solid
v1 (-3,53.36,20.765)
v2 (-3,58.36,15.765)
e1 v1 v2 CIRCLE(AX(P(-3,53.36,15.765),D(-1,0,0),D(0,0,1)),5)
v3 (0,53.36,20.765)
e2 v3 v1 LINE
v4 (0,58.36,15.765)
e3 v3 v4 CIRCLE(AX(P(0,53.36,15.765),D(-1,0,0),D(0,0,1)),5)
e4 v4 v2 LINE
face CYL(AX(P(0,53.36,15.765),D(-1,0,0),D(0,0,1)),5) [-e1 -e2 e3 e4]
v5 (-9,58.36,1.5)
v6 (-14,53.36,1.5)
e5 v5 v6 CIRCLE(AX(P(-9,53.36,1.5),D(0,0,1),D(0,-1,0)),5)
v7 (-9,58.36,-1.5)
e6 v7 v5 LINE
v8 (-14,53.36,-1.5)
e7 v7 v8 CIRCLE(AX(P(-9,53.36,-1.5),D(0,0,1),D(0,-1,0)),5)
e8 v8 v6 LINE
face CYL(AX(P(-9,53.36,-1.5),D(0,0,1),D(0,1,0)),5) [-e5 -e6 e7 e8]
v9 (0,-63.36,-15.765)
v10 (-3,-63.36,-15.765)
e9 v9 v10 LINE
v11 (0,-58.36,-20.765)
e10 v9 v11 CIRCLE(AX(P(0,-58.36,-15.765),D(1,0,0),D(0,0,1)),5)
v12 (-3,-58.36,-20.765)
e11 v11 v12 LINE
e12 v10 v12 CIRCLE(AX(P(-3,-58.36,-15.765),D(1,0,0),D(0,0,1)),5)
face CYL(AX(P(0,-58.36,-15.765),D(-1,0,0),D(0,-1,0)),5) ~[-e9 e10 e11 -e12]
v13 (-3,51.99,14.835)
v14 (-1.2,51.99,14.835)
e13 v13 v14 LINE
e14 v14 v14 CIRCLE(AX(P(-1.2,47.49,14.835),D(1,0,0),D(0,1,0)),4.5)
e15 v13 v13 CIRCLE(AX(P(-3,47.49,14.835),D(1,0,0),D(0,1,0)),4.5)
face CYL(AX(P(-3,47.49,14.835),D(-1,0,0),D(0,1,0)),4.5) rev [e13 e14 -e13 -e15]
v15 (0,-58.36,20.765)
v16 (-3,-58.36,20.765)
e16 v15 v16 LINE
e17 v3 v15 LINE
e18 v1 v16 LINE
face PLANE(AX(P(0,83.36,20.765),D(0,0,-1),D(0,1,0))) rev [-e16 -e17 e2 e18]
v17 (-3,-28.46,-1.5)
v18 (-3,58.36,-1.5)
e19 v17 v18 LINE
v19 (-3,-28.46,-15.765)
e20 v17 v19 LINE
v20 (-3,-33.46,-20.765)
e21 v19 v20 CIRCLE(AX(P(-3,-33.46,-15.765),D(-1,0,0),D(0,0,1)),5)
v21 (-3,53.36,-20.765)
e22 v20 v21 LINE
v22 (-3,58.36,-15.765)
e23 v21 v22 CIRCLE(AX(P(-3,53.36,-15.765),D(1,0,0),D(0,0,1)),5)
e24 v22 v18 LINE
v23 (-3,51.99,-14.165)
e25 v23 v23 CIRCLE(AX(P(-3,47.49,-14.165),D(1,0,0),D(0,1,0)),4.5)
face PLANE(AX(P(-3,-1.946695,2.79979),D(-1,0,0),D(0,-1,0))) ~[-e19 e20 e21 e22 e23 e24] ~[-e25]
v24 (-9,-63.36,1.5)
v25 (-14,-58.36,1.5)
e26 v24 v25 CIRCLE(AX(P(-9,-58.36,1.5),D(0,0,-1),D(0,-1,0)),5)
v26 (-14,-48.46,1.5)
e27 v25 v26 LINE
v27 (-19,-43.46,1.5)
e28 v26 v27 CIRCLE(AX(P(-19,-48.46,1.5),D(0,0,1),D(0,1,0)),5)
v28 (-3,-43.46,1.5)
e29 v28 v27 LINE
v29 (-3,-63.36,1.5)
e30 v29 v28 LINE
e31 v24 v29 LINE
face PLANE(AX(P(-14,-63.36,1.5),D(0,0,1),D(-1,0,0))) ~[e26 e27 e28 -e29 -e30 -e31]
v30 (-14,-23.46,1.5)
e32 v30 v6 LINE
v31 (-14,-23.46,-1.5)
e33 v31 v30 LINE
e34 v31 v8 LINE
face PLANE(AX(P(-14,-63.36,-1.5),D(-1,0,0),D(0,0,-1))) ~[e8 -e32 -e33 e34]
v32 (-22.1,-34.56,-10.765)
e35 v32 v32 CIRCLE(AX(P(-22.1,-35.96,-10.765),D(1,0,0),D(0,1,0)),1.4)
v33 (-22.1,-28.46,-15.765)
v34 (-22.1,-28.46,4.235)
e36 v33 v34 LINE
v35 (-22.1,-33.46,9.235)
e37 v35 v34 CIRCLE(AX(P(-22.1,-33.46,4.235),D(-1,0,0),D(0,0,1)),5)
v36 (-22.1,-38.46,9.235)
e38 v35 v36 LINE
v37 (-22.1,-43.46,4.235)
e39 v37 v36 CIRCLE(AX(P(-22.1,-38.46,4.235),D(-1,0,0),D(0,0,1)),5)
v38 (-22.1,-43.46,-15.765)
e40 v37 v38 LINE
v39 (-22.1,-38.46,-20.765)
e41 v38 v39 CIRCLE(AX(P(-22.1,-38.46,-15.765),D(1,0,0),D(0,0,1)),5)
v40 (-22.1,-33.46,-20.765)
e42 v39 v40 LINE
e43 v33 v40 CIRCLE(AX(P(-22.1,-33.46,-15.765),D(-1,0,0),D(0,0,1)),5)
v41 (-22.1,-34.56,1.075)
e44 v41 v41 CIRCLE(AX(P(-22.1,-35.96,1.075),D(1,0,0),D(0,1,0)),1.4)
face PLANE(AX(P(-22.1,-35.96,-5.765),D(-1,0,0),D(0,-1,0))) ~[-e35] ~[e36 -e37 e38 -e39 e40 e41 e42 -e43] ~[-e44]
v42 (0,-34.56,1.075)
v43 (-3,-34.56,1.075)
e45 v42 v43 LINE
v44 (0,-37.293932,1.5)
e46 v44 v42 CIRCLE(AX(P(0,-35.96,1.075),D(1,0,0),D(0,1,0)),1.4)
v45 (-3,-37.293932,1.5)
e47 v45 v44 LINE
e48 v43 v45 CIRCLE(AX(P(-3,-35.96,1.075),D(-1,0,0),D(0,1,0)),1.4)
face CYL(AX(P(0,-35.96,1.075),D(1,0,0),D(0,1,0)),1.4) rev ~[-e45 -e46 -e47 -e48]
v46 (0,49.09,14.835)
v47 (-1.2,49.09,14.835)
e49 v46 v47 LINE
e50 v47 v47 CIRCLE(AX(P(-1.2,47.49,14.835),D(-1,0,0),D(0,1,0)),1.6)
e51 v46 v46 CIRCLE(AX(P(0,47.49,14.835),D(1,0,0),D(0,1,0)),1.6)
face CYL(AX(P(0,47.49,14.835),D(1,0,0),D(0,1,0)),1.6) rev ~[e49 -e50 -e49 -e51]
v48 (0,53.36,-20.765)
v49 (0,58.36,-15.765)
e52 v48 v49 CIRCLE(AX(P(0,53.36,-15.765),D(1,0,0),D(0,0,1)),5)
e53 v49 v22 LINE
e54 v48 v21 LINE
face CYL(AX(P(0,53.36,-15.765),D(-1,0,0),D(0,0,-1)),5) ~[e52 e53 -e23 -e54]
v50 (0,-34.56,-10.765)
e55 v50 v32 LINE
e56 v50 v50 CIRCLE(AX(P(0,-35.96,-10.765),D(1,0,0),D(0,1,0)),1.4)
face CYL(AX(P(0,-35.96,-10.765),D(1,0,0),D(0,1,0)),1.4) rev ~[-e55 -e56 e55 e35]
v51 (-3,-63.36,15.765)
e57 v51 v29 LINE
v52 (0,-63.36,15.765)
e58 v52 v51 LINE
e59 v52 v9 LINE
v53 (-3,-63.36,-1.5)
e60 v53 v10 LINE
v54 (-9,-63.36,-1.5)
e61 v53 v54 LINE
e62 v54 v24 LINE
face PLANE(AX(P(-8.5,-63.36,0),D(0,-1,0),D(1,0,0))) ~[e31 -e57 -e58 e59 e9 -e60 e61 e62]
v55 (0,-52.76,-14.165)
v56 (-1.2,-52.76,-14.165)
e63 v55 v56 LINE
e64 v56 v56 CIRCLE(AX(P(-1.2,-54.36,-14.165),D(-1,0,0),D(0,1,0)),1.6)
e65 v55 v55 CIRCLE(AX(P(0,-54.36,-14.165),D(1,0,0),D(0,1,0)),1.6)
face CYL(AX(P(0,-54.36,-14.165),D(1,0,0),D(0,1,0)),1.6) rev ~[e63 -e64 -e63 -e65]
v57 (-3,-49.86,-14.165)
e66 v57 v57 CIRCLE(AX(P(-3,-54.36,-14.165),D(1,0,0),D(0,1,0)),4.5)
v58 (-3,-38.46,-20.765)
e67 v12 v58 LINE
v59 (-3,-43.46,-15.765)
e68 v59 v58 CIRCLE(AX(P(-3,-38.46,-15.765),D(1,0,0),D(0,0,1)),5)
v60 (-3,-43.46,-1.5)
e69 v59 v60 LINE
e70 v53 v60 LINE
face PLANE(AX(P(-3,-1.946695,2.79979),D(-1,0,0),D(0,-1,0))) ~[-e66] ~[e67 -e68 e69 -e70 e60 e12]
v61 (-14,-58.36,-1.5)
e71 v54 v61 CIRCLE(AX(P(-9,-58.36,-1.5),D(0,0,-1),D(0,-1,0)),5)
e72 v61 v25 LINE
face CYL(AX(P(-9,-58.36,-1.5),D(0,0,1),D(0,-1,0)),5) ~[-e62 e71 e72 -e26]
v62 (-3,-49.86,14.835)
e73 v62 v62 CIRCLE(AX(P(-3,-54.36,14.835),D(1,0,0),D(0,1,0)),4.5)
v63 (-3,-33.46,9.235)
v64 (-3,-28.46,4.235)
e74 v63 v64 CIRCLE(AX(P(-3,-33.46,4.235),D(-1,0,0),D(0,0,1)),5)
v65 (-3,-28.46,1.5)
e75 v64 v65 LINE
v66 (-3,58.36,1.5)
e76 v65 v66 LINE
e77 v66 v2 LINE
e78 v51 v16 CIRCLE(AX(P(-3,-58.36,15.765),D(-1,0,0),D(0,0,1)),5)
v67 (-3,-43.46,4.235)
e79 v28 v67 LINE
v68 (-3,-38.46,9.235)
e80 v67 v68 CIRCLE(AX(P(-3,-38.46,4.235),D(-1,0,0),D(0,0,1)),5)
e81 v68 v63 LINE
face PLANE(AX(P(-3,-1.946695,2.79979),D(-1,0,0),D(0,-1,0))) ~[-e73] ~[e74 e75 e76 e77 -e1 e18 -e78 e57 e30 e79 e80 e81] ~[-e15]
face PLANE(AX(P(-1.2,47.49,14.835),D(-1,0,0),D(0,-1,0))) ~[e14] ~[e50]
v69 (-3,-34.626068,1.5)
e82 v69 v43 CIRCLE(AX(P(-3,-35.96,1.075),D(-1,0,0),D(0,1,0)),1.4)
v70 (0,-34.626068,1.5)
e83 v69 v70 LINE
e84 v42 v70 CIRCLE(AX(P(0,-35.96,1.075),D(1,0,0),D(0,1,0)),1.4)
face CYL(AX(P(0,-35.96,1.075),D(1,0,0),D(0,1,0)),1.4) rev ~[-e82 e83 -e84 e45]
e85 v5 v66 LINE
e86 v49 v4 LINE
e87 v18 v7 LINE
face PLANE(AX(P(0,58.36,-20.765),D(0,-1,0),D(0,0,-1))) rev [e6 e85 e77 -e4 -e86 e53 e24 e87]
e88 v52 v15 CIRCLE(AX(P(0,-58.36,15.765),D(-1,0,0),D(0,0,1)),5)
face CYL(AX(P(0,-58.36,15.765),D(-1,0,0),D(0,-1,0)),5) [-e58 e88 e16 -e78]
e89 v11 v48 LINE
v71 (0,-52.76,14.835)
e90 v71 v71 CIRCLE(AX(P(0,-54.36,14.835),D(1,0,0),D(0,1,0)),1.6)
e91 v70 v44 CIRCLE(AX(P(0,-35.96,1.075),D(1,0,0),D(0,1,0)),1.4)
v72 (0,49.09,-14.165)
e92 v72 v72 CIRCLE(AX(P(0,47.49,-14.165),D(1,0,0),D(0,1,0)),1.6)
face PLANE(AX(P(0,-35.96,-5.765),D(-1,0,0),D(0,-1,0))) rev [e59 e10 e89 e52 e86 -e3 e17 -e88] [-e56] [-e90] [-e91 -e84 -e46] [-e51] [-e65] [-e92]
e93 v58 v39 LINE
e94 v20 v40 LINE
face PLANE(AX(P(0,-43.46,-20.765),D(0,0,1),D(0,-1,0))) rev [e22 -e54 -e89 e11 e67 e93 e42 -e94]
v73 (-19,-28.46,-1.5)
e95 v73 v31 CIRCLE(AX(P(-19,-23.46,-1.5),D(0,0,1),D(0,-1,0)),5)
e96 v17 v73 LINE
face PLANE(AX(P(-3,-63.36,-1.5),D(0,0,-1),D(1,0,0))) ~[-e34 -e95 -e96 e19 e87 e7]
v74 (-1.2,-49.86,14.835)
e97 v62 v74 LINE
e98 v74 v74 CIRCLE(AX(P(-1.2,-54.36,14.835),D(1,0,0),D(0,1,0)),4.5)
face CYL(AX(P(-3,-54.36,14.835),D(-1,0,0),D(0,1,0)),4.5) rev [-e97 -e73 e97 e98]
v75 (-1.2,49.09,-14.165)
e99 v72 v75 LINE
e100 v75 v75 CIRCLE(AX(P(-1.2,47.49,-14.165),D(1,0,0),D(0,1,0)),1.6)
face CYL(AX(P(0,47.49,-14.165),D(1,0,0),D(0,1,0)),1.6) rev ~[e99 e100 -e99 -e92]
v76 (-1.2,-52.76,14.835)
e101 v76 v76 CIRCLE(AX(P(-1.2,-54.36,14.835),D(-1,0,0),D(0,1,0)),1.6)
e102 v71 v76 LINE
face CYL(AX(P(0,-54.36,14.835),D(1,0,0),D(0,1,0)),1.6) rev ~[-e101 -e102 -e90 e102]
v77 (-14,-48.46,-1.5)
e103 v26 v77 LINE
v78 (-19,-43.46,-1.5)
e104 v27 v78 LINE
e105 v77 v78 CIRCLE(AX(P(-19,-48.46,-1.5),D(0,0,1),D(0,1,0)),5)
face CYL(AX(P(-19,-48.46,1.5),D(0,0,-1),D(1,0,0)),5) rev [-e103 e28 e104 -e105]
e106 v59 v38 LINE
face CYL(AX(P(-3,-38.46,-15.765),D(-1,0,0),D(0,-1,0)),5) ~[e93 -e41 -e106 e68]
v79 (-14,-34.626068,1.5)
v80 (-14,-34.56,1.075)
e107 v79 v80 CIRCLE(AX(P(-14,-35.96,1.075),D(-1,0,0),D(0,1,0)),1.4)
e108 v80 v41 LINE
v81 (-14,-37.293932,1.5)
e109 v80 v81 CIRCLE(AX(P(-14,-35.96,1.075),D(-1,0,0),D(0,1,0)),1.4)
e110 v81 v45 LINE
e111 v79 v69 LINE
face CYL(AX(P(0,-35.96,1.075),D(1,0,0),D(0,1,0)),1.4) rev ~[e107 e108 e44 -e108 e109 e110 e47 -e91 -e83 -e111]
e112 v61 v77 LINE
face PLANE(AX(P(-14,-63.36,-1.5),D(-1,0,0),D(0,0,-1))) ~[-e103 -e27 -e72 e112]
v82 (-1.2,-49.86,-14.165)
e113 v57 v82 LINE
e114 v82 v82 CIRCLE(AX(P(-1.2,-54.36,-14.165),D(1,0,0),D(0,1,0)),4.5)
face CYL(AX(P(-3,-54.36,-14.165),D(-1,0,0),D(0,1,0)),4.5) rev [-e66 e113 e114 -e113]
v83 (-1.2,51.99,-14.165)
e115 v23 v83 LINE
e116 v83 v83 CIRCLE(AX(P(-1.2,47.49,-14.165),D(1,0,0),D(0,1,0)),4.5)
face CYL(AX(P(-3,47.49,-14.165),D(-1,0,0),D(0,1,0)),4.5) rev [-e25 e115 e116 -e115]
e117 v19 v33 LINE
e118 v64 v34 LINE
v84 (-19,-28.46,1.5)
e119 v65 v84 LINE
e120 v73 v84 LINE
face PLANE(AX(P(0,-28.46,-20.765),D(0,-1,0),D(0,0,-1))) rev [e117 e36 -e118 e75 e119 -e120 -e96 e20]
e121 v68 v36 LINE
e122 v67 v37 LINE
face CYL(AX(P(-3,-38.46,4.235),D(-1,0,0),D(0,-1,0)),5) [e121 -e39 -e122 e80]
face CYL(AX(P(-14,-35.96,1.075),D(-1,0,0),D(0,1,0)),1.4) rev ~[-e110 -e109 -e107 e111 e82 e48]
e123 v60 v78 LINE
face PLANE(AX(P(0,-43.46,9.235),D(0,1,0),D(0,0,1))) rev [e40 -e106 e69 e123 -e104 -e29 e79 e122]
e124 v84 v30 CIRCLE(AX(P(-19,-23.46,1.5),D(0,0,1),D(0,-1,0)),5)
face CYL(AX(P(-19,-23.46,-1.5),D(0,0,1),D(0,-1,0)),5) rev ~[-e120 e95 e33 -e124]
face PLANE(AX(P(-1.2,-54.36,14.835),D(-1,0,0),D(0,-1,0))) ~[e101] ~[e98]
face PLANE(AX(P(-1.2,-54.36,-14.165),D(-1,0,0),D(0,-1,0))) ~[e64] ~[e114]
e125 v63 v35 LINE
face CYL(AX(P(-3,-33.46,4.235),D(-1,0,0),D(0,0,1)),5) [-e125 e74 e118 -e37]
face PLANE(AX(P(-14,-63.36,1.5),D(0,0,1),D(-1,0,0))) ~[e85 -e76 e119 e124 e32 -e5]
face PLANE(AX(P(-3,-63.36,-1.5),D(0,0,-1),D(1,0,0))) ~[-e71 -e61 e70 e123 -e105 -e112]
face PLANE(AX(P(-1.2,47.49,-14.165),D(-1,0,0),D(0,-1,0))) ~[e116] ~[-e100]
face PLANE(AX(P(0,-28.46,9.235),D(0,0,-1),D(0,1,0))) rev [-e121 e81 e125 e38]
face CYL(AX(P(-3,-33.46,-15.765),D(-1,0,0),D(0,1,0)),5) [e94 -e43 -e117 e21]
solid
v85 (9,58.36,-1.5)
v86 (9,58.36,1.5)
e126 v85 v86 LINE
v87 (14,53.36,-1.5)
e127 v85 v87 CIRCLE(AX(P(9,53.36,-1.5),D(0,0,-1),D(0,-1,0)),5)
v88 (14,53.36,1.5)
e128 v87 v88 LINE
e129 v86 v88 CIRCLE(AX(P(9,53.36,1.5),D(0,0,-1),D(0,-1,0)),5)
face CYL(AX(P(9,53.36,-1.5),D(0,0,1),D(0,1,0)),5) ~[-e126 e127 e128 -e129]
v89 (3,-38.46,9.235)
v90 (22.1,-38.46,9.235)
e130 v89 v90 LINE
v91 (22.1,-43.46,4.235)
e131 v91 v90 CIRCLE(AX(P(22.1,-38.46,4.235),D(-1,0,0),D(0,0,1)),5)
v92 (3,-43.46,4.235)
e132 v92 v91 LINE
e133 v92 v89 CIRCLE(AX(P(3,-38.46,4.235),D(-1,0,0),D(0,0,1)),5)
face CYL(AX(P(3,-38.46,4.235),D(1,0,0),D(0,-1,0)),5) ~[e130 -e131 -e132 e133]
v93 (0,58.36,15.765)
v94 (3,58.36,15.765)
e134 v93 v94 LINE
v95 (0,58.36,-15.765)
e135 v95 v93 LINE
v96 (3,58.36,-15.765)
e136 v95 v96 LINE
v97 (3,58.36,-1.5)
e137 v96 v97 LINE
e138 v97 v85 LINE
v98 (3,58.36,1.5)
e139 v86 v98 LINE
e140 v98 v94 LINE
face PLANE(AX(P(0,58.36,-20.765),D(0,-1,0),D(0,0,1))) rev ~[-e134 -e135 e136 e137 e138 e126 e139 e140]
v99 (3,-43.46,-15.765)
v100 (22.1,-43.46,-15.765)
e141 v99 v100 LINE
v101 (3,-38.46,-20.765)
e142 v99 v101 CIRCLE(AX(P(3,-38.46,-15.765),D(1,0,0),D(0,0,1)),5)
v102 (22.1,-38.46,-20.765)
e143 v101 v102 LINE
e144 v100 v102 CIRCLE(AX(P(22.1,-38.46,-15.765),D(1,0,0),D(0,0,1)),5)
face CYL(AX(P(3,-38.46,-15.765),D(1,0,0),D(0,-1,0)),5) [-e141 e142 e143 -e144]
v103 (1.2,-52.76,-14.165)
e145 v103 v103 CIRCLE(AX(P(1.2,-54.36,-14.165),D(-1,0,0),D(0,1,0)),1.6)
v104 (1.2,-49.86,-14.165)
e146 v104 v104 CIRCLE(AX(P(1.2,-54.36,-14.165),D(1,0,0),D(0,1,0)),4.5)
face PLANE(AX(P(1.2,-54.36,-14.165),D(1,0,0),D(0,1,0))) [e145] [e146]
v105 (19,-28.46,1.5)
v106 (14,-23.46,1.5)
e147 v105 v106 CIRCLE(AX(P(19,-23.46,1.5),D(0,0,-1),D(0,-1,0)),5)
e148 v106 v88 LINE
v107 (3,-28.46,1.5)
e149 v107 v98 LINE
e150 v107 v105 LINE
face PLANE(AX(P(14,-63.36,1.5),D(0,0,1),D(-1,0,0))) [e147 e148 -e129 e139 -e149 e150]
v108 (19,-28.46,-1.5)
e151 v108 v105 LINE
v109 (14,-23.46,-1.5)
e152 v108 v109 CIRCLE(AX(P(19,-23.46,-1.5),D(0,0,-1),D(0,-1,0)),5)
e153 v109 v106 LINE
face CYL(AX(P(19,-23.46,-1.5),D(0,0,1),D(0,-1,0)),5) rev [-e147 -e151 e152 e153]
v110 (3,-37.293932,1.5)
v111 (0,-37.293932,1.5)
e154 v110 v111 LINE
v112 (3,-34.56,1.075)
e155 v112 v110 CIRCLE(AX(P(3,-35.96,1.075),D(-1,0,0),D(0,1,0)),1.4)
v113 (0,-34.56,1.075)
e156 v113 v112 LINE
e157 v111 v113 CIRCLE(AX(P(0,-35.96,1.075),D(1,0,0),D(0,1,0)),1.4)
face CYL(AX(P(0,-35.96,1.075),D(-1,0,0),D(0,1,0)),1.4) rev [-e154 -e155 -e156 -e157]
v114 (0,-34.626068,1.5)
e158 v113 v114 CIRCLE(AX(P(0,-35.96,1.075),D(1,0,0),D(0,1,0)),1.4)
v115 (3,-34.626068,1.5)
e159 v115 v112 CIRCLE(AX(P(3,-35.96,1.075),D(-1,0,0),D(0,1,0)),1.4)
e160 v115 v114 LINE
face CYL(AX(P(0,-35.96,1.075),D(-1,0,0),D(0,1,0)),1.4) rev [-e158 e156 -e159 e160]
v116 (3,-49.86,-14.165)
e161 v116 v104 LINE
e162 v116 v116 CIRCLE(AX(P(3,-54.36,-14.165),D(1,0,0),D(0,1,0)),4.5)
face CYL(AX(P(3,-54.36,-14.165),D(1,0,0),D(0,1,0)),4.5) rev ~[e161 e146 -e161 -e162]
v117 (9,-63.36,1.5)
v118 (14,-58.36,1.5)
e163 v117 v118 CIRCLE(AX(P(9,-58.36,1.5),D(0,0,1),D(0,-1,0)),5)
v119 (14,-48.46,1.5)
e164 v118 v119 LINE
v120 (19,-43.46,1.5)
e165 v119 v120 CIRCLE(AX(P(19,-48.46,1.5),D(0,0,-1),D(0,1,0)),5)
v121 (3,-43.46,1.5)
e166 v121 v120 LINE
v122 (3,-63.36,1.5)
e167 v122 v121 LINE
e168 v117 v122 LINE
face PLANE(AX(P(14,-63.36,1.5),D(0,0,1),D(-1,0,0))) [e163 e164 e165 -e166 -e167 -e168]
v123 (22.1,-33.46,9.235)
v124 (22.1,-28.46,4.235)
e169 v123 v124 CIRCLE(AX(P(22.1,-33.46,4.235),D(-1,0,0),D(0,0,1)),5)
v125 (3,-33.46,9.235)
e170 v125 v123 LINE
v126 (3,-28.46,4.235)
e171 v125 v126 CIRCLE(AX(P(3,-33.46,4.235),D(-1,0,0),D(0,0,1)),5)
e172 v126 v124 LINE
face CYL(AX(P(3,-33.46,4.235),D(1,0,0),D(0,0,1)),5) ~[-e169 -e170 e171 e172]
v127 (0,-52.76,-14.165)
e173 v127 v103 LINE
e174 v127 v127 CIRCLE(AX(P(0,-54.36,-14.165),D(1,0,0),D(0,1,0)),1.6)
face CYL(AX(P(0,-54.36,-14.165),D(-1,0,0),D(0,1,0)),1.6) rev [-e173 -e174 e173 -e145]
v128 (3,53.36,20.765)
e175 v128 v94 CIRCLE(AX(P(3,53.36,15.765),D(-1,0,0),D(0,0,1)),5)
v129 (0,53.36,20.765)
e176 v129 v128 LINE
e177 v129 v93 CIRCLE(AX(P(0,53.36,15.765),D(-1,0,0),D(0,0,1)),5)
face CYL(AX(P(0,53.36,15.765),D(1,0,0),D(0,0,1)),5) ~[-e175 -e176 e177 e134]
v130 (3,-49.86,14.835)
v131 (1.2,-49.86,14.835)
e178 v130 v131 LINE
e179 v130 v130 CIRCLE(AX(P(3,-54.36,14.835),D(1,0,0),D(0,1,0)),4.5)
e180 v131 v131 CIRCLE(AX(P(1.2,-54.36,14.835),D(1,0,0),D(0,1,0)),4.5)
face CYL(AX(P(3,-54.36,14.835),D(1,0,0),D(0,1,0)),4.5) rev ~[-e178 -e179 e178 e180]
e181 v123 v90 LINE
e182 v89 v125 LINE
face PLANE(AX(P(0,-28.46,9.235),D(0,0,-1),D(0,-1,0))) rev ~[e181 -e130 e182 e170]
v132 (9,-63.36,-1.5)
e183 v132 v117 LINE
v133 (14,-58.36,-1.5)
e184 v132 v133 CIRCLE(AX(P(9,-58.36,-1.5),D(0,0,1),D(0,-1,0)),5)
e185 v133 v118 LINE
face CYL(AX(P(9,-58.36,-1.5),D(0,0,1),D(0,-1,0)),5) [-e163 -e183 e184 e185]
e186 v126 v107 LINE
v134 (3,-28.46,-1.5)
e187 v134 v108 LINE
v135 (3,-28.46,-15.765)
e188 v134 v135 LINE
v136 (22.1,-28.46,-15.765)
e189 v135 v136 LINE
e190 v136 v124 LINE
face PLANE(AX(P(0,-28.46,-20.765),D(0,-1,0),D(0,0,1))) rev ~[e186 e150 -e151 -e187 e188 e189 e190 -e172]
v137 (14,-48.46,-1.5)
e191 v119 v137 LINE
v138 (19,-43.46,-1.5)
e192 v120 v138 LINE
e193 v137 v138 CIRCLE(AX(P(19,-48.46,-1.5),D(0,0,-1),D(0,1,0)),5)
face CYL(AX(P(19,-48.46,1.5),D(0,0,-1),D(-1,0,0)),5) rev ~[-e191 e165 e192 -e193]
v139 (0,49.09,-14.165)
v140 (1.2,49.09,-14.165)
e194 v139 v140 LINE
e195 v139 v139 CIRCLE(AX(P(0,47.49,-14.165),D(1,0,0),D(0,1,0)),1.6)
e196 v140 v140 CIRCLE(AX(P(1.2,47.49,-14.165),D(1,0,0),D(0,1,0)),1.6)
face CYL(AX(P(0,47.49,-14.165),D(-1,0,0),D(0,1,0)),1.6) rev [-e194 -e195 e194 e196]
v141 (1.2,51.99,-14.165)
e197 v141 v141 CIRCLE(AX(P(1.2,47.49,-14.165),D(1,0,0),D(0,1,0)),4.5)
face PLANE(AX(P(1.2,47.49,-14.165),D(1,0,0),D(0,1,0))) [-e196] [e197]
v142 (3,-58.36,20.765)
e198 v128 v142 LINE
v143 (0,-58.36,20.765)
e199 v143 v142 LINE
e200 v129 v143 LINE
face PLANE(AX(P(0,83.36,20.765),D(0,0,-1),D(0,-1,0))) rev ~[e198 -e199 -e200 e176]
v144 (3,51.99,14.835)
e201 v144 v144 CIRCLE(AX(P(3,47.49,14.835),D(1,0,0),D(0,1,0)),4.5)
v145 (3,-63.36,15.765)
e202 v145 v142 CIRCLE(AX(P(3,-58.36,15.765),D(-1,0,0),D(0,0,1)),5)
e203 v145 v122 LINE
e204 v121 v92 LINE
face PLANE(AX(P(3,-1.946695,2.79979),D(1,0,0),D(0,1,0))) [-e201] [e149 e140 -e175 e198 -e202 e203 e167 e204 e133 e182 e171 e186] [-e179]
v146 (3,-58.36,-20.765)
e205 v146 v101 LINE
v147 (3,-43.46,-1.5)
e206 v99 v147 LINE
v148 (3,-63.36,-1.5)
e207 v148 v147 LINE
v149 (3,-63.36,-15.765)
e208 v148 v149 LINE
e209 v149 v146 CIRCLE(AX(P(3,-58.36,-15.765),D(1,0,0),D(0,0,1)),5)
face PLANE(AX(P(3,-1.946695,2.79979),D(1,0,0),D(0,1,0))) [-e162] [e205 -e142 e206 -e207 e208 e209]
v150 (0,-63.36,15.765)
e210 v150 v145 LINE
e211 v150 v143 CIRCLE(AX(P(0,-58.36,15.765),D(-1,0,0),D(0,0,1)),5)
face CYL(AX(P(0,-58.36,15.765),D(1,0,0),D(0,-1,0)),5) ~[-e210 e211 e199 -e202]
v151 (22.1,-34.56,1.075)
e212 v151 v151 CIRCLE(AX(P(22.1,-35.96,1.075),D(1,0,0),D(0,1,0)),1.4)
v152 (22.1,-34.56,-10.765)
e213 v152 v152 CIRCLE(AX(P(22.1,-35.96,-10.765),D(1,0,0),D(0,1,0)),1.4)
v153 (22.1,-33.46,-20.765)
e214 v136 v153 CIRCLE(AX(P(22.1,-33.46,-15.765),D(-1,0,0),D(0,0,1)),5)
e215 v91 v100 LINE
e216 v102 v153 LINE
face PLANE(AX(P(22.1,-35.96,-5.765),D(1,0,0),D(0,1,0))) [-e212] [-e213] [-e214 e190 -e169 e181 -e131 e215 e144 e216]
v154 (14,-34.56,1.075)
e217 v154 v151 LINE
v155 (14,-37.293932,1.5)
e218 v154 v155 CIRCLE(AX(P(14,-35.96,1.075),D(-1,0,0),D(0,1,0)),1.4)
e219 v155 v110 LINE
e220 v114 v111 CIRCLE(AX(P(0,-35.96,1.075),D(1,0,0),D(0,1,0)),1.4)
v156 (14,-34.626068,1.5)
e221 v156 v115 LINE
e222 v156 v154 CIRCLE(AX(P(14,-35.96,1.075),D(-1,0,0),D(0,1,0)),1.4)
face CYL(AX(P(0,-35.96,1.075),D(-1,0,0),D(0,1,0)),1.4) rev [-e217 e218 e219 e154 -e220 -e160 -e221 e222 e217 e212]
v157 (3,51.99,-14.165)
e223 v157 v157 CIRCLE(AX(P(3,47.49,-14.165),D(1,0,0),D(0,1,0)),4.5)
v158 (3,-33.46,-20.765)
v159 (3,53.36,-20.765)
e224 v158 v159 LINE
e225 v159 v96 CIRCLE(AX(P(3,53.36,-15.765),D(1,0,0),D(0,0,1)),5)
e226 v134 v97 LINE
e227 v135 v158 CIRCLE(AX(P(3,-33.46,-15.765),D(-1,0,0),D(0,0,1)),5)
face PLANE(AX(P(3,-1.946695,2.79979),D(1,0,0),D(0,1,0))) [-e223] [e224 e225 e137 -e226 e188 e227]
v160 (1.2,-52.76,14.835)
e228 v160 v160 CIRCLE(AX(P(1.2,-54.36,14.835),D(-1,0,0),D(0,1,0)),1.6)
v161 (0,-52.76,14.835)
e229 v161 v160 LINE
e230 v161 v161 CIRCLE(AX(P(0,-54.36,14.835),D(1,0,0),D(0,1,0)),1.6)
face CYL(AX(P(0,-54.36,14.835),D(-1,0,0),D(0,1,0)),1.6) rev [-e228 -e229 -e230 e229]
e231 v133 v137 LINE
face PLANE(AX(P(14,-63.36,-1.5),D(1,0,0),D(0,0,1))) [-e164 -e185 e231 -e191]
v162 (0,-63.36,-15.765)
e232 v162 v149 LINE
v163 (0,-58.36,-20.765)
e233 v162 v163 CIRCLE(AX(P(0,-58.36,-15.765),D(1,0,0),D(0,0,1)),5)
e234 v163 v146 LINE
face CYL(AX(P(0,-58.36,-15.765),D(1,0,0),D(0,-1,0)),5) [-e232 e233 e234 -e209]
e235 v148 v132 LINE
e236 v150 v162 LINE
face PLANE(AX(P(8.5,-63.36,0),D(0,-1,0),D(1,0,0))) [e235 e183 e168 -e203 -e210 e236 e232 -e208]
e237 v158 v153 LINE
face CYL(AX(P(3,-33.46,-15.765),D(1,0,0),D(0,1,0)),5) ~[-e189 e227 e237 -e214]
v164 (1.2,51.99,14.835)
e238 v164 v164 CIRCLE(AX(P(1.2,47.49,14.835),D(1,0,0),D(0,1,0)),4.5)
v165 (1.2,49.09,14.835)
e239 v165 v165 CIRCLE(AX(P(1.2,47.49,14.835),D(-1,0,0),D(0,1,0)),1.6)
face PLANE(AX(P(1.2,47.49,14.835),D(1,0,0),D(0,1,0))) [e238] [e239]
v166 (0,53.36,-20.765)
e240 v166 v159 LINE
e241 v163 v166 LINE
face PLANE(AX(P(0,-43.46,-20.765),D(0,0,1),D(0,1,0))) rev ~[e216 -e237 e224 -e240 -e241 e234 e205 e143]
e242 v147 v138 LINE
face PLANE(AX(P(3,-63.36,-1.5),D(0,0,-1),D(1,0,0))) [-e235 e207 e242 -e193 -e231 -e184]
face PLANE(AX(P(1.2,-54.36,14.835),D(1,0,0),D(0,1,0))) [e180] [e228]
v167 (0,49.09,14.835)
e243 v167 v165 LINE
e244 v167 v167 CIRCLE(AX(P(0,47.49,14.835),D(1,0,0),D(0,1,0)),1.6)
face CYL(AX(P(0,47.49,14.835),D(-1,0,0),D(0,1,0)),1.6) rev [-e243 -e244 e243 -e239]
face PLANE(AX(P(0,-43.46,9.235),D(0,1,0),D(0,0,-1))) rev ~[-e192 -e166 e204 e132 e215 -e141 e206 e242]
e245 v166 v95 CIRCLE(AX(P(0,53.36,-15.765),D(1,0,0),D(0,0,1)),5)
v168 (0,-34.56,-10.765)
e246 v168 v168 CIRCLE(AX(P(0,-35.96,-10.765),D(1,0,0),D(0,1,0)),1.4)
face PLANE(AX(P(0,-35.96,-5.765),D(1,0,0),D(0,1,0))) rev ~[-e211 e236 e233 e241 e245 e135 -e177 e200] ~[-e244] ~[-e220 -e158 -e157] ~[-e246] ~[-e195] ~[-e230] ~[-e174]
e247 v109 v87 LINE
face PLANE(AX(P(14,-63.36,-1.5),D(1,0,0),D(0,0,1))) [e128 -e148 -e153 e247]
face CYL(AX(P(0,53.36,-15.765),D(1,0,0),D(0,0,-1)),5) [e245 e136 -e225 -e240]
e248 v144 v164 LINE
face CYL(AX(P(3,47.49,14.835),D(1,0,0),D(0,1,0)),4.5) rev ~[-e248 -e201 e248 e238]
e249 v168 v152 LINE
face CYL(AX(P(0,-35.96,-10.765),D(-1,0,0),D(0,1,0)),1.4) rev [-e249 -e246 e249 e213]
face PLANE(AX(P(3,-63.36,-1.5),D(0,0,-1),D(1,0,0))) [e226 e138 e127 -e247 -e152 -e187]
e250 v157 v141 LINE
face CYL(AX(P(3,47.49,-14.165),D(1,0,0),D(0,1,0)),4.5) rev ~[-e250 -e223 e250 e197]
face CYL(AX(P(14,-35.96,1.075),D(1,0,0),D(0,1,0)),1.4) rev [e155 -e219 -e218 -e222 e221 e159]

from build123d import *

# Parameters (mm, degrees)
F0_R      = 1.6
F0_W      = 82
F0_H      = 15
F0_R_2    = 1.4
F1_DEPTH  = 3
F2_DEPTH  = 22.1
F3_R      = 5
F4_DEPTH  = 20
F5_DEPTH  = 25
F7_DEPTH  = 121.72
F8_R      = 5
F9_R      = 4.5
F9_R_2    = 1.6
F10_DEPTH = 1.8
F11_DEPTH = 14.001


with BuildPart() as f1:
    # F0 (on Right) → F1 (new body)
    with BuildSketch(Plane.YZ):
        Polygon((83.36, 20.765), (-83.36, 20.765), (-83.36, -20.765), (-43.46, -20.765), (-43.46, 9.235), (-28.46, 9.235), (-28.46, -5.765), (53.54, -5.765), (53.54, -20.765), (83.36, -20.765), align=None)
        with Locations((-54.36, -14.165)):
            Circle(F0_R, mode=Mode.SUBTRACT)
        with Locations((-54.36, 14.835)):
            Circle(F0_R, mode=Mode.SUBTRACT)
        with Locations((47.49, 14.835)):
            Circle(F0_R, mode=Mode.SUBTRACT)
        with Locations((12.54, -13.265)):
            Rectangle(F0_W, F0_H)
        with Locations((47.49, -14.165)):
            Circle(F0_R, mode=Mode.SUBTRACT)
        with Locations((43.29, -10.765)):
            Circle(F0_R_2, mode=Mode.SUBTRACT)
        with Locations((43.29, -10.765)):
            Circle(F0_R_2)
    extrude(amount=F1_DEPTH)

    # F0 (on Right) → F2 (join)
    with BuildSketch(Plane.YZ):
        Polygon((-43.46, 9.235), (-43.46, -20.765), (-28.46, -20.765), (-28.46, -5.765), (-28.46, 9.235), align=None)
        with Locations((-35.96, -10.765)):
            Circle(F0_R_2, mode=Mode.SUBTRACT)
        with Locations((-35.96, 1.075)):
            Circle(F0_R_2, mode=Mode.SUBTRACT)
    extrude(amount=F2_DEPTH)

    # F3
    f3_edges = [f1.edges().sort_by_distance(p)[0] for p in [
        (12.55, -43.46, 9.235),
        (12.55, -28.46, 9.235),
        (12.55, -28.46, -20.765),
        (12.55, -43.46, -20.765),
    ]]
    fillet(f3_edges, radius=F3_R)

    # F4 (cut): a face of the model
    f4_faces = [f1.faces().sort_by_distance(p)[0] for p in [
        (1.5, -83.36, 0),
    ]]
    extrude(f4_faces, amount=-F4_DEPTH, mode=Mode.SUBTRACT)

    # F5 (cut): a face of the model
    f5_faces = [f1.faces().sort_by_distance(p)[0] for p in [
        (1.5, 83.36, 0),
    ]]
    extrude(f5_faces, amount=-F5_DEPTH, mode=Mode.SUBTRACT)

    # F6 (on face) → F7 (join, through all)
    with BuildSketch(Plane.XZ.offset(63.36)):
        Polygon((3, 1.5), (3, 0), (3, -1.5), (14, -1.5), (14, 1.5), align=None)
    extrude(amount=-F7_DEPTH)

    # F8
    f8_edges = [f1.edges().sort_by_distance(p)[0] for p in [
        (1.5, -63.36, -20.765),
        (1.5, 58.36, -20.765),
        (14, 58.36, 0),
        (14, -28.46, 0),
        (14, -43.46, 0),
        (14, -63.36, 0),
        (1.5, -63.36, 20.765),
        (1.5, 58.36, 20.765),
    ]]
    fillet(f8_edges, radius=F8_R)

    # F9 (on face) → F10 (cut)
    with BuildSketch(Plane.YZ.offset(3)):
        with Locations((-54.36, -14.165)):
            Circle(F9_R)
        with Locations((47.49, -14.165)):
            Circle(F9_R)
        with Locations((47.49, -14.165)):
            Circle(F9_R_2, mode=Mode.SUBTRACT)
        with Locations((-54.36, 14.835)):
            Circle(F9_R)
        with Locations((47.49, 14.835)):
            Circle(F9_R)
    extrude(amount=-F10_DEPTH, mode=Mode.SUBTRACT)

    # F11 (cut, through all): a face of the model
    f11_faces = [f1.faces().sort_by_distance(p)[0] for p in [
        (14, -35.96, 0.7026954341),
    ]]
    extrude(f11_faces, amount=-F11_DEPTH, mode=Mode.SUBTRACT)


with BuildPart() as f12_1:
    # F12: instance of F1
    add(f1.part.mirror(Plane.YZ))


solid = Compound([f1.part, f12_1.part])
